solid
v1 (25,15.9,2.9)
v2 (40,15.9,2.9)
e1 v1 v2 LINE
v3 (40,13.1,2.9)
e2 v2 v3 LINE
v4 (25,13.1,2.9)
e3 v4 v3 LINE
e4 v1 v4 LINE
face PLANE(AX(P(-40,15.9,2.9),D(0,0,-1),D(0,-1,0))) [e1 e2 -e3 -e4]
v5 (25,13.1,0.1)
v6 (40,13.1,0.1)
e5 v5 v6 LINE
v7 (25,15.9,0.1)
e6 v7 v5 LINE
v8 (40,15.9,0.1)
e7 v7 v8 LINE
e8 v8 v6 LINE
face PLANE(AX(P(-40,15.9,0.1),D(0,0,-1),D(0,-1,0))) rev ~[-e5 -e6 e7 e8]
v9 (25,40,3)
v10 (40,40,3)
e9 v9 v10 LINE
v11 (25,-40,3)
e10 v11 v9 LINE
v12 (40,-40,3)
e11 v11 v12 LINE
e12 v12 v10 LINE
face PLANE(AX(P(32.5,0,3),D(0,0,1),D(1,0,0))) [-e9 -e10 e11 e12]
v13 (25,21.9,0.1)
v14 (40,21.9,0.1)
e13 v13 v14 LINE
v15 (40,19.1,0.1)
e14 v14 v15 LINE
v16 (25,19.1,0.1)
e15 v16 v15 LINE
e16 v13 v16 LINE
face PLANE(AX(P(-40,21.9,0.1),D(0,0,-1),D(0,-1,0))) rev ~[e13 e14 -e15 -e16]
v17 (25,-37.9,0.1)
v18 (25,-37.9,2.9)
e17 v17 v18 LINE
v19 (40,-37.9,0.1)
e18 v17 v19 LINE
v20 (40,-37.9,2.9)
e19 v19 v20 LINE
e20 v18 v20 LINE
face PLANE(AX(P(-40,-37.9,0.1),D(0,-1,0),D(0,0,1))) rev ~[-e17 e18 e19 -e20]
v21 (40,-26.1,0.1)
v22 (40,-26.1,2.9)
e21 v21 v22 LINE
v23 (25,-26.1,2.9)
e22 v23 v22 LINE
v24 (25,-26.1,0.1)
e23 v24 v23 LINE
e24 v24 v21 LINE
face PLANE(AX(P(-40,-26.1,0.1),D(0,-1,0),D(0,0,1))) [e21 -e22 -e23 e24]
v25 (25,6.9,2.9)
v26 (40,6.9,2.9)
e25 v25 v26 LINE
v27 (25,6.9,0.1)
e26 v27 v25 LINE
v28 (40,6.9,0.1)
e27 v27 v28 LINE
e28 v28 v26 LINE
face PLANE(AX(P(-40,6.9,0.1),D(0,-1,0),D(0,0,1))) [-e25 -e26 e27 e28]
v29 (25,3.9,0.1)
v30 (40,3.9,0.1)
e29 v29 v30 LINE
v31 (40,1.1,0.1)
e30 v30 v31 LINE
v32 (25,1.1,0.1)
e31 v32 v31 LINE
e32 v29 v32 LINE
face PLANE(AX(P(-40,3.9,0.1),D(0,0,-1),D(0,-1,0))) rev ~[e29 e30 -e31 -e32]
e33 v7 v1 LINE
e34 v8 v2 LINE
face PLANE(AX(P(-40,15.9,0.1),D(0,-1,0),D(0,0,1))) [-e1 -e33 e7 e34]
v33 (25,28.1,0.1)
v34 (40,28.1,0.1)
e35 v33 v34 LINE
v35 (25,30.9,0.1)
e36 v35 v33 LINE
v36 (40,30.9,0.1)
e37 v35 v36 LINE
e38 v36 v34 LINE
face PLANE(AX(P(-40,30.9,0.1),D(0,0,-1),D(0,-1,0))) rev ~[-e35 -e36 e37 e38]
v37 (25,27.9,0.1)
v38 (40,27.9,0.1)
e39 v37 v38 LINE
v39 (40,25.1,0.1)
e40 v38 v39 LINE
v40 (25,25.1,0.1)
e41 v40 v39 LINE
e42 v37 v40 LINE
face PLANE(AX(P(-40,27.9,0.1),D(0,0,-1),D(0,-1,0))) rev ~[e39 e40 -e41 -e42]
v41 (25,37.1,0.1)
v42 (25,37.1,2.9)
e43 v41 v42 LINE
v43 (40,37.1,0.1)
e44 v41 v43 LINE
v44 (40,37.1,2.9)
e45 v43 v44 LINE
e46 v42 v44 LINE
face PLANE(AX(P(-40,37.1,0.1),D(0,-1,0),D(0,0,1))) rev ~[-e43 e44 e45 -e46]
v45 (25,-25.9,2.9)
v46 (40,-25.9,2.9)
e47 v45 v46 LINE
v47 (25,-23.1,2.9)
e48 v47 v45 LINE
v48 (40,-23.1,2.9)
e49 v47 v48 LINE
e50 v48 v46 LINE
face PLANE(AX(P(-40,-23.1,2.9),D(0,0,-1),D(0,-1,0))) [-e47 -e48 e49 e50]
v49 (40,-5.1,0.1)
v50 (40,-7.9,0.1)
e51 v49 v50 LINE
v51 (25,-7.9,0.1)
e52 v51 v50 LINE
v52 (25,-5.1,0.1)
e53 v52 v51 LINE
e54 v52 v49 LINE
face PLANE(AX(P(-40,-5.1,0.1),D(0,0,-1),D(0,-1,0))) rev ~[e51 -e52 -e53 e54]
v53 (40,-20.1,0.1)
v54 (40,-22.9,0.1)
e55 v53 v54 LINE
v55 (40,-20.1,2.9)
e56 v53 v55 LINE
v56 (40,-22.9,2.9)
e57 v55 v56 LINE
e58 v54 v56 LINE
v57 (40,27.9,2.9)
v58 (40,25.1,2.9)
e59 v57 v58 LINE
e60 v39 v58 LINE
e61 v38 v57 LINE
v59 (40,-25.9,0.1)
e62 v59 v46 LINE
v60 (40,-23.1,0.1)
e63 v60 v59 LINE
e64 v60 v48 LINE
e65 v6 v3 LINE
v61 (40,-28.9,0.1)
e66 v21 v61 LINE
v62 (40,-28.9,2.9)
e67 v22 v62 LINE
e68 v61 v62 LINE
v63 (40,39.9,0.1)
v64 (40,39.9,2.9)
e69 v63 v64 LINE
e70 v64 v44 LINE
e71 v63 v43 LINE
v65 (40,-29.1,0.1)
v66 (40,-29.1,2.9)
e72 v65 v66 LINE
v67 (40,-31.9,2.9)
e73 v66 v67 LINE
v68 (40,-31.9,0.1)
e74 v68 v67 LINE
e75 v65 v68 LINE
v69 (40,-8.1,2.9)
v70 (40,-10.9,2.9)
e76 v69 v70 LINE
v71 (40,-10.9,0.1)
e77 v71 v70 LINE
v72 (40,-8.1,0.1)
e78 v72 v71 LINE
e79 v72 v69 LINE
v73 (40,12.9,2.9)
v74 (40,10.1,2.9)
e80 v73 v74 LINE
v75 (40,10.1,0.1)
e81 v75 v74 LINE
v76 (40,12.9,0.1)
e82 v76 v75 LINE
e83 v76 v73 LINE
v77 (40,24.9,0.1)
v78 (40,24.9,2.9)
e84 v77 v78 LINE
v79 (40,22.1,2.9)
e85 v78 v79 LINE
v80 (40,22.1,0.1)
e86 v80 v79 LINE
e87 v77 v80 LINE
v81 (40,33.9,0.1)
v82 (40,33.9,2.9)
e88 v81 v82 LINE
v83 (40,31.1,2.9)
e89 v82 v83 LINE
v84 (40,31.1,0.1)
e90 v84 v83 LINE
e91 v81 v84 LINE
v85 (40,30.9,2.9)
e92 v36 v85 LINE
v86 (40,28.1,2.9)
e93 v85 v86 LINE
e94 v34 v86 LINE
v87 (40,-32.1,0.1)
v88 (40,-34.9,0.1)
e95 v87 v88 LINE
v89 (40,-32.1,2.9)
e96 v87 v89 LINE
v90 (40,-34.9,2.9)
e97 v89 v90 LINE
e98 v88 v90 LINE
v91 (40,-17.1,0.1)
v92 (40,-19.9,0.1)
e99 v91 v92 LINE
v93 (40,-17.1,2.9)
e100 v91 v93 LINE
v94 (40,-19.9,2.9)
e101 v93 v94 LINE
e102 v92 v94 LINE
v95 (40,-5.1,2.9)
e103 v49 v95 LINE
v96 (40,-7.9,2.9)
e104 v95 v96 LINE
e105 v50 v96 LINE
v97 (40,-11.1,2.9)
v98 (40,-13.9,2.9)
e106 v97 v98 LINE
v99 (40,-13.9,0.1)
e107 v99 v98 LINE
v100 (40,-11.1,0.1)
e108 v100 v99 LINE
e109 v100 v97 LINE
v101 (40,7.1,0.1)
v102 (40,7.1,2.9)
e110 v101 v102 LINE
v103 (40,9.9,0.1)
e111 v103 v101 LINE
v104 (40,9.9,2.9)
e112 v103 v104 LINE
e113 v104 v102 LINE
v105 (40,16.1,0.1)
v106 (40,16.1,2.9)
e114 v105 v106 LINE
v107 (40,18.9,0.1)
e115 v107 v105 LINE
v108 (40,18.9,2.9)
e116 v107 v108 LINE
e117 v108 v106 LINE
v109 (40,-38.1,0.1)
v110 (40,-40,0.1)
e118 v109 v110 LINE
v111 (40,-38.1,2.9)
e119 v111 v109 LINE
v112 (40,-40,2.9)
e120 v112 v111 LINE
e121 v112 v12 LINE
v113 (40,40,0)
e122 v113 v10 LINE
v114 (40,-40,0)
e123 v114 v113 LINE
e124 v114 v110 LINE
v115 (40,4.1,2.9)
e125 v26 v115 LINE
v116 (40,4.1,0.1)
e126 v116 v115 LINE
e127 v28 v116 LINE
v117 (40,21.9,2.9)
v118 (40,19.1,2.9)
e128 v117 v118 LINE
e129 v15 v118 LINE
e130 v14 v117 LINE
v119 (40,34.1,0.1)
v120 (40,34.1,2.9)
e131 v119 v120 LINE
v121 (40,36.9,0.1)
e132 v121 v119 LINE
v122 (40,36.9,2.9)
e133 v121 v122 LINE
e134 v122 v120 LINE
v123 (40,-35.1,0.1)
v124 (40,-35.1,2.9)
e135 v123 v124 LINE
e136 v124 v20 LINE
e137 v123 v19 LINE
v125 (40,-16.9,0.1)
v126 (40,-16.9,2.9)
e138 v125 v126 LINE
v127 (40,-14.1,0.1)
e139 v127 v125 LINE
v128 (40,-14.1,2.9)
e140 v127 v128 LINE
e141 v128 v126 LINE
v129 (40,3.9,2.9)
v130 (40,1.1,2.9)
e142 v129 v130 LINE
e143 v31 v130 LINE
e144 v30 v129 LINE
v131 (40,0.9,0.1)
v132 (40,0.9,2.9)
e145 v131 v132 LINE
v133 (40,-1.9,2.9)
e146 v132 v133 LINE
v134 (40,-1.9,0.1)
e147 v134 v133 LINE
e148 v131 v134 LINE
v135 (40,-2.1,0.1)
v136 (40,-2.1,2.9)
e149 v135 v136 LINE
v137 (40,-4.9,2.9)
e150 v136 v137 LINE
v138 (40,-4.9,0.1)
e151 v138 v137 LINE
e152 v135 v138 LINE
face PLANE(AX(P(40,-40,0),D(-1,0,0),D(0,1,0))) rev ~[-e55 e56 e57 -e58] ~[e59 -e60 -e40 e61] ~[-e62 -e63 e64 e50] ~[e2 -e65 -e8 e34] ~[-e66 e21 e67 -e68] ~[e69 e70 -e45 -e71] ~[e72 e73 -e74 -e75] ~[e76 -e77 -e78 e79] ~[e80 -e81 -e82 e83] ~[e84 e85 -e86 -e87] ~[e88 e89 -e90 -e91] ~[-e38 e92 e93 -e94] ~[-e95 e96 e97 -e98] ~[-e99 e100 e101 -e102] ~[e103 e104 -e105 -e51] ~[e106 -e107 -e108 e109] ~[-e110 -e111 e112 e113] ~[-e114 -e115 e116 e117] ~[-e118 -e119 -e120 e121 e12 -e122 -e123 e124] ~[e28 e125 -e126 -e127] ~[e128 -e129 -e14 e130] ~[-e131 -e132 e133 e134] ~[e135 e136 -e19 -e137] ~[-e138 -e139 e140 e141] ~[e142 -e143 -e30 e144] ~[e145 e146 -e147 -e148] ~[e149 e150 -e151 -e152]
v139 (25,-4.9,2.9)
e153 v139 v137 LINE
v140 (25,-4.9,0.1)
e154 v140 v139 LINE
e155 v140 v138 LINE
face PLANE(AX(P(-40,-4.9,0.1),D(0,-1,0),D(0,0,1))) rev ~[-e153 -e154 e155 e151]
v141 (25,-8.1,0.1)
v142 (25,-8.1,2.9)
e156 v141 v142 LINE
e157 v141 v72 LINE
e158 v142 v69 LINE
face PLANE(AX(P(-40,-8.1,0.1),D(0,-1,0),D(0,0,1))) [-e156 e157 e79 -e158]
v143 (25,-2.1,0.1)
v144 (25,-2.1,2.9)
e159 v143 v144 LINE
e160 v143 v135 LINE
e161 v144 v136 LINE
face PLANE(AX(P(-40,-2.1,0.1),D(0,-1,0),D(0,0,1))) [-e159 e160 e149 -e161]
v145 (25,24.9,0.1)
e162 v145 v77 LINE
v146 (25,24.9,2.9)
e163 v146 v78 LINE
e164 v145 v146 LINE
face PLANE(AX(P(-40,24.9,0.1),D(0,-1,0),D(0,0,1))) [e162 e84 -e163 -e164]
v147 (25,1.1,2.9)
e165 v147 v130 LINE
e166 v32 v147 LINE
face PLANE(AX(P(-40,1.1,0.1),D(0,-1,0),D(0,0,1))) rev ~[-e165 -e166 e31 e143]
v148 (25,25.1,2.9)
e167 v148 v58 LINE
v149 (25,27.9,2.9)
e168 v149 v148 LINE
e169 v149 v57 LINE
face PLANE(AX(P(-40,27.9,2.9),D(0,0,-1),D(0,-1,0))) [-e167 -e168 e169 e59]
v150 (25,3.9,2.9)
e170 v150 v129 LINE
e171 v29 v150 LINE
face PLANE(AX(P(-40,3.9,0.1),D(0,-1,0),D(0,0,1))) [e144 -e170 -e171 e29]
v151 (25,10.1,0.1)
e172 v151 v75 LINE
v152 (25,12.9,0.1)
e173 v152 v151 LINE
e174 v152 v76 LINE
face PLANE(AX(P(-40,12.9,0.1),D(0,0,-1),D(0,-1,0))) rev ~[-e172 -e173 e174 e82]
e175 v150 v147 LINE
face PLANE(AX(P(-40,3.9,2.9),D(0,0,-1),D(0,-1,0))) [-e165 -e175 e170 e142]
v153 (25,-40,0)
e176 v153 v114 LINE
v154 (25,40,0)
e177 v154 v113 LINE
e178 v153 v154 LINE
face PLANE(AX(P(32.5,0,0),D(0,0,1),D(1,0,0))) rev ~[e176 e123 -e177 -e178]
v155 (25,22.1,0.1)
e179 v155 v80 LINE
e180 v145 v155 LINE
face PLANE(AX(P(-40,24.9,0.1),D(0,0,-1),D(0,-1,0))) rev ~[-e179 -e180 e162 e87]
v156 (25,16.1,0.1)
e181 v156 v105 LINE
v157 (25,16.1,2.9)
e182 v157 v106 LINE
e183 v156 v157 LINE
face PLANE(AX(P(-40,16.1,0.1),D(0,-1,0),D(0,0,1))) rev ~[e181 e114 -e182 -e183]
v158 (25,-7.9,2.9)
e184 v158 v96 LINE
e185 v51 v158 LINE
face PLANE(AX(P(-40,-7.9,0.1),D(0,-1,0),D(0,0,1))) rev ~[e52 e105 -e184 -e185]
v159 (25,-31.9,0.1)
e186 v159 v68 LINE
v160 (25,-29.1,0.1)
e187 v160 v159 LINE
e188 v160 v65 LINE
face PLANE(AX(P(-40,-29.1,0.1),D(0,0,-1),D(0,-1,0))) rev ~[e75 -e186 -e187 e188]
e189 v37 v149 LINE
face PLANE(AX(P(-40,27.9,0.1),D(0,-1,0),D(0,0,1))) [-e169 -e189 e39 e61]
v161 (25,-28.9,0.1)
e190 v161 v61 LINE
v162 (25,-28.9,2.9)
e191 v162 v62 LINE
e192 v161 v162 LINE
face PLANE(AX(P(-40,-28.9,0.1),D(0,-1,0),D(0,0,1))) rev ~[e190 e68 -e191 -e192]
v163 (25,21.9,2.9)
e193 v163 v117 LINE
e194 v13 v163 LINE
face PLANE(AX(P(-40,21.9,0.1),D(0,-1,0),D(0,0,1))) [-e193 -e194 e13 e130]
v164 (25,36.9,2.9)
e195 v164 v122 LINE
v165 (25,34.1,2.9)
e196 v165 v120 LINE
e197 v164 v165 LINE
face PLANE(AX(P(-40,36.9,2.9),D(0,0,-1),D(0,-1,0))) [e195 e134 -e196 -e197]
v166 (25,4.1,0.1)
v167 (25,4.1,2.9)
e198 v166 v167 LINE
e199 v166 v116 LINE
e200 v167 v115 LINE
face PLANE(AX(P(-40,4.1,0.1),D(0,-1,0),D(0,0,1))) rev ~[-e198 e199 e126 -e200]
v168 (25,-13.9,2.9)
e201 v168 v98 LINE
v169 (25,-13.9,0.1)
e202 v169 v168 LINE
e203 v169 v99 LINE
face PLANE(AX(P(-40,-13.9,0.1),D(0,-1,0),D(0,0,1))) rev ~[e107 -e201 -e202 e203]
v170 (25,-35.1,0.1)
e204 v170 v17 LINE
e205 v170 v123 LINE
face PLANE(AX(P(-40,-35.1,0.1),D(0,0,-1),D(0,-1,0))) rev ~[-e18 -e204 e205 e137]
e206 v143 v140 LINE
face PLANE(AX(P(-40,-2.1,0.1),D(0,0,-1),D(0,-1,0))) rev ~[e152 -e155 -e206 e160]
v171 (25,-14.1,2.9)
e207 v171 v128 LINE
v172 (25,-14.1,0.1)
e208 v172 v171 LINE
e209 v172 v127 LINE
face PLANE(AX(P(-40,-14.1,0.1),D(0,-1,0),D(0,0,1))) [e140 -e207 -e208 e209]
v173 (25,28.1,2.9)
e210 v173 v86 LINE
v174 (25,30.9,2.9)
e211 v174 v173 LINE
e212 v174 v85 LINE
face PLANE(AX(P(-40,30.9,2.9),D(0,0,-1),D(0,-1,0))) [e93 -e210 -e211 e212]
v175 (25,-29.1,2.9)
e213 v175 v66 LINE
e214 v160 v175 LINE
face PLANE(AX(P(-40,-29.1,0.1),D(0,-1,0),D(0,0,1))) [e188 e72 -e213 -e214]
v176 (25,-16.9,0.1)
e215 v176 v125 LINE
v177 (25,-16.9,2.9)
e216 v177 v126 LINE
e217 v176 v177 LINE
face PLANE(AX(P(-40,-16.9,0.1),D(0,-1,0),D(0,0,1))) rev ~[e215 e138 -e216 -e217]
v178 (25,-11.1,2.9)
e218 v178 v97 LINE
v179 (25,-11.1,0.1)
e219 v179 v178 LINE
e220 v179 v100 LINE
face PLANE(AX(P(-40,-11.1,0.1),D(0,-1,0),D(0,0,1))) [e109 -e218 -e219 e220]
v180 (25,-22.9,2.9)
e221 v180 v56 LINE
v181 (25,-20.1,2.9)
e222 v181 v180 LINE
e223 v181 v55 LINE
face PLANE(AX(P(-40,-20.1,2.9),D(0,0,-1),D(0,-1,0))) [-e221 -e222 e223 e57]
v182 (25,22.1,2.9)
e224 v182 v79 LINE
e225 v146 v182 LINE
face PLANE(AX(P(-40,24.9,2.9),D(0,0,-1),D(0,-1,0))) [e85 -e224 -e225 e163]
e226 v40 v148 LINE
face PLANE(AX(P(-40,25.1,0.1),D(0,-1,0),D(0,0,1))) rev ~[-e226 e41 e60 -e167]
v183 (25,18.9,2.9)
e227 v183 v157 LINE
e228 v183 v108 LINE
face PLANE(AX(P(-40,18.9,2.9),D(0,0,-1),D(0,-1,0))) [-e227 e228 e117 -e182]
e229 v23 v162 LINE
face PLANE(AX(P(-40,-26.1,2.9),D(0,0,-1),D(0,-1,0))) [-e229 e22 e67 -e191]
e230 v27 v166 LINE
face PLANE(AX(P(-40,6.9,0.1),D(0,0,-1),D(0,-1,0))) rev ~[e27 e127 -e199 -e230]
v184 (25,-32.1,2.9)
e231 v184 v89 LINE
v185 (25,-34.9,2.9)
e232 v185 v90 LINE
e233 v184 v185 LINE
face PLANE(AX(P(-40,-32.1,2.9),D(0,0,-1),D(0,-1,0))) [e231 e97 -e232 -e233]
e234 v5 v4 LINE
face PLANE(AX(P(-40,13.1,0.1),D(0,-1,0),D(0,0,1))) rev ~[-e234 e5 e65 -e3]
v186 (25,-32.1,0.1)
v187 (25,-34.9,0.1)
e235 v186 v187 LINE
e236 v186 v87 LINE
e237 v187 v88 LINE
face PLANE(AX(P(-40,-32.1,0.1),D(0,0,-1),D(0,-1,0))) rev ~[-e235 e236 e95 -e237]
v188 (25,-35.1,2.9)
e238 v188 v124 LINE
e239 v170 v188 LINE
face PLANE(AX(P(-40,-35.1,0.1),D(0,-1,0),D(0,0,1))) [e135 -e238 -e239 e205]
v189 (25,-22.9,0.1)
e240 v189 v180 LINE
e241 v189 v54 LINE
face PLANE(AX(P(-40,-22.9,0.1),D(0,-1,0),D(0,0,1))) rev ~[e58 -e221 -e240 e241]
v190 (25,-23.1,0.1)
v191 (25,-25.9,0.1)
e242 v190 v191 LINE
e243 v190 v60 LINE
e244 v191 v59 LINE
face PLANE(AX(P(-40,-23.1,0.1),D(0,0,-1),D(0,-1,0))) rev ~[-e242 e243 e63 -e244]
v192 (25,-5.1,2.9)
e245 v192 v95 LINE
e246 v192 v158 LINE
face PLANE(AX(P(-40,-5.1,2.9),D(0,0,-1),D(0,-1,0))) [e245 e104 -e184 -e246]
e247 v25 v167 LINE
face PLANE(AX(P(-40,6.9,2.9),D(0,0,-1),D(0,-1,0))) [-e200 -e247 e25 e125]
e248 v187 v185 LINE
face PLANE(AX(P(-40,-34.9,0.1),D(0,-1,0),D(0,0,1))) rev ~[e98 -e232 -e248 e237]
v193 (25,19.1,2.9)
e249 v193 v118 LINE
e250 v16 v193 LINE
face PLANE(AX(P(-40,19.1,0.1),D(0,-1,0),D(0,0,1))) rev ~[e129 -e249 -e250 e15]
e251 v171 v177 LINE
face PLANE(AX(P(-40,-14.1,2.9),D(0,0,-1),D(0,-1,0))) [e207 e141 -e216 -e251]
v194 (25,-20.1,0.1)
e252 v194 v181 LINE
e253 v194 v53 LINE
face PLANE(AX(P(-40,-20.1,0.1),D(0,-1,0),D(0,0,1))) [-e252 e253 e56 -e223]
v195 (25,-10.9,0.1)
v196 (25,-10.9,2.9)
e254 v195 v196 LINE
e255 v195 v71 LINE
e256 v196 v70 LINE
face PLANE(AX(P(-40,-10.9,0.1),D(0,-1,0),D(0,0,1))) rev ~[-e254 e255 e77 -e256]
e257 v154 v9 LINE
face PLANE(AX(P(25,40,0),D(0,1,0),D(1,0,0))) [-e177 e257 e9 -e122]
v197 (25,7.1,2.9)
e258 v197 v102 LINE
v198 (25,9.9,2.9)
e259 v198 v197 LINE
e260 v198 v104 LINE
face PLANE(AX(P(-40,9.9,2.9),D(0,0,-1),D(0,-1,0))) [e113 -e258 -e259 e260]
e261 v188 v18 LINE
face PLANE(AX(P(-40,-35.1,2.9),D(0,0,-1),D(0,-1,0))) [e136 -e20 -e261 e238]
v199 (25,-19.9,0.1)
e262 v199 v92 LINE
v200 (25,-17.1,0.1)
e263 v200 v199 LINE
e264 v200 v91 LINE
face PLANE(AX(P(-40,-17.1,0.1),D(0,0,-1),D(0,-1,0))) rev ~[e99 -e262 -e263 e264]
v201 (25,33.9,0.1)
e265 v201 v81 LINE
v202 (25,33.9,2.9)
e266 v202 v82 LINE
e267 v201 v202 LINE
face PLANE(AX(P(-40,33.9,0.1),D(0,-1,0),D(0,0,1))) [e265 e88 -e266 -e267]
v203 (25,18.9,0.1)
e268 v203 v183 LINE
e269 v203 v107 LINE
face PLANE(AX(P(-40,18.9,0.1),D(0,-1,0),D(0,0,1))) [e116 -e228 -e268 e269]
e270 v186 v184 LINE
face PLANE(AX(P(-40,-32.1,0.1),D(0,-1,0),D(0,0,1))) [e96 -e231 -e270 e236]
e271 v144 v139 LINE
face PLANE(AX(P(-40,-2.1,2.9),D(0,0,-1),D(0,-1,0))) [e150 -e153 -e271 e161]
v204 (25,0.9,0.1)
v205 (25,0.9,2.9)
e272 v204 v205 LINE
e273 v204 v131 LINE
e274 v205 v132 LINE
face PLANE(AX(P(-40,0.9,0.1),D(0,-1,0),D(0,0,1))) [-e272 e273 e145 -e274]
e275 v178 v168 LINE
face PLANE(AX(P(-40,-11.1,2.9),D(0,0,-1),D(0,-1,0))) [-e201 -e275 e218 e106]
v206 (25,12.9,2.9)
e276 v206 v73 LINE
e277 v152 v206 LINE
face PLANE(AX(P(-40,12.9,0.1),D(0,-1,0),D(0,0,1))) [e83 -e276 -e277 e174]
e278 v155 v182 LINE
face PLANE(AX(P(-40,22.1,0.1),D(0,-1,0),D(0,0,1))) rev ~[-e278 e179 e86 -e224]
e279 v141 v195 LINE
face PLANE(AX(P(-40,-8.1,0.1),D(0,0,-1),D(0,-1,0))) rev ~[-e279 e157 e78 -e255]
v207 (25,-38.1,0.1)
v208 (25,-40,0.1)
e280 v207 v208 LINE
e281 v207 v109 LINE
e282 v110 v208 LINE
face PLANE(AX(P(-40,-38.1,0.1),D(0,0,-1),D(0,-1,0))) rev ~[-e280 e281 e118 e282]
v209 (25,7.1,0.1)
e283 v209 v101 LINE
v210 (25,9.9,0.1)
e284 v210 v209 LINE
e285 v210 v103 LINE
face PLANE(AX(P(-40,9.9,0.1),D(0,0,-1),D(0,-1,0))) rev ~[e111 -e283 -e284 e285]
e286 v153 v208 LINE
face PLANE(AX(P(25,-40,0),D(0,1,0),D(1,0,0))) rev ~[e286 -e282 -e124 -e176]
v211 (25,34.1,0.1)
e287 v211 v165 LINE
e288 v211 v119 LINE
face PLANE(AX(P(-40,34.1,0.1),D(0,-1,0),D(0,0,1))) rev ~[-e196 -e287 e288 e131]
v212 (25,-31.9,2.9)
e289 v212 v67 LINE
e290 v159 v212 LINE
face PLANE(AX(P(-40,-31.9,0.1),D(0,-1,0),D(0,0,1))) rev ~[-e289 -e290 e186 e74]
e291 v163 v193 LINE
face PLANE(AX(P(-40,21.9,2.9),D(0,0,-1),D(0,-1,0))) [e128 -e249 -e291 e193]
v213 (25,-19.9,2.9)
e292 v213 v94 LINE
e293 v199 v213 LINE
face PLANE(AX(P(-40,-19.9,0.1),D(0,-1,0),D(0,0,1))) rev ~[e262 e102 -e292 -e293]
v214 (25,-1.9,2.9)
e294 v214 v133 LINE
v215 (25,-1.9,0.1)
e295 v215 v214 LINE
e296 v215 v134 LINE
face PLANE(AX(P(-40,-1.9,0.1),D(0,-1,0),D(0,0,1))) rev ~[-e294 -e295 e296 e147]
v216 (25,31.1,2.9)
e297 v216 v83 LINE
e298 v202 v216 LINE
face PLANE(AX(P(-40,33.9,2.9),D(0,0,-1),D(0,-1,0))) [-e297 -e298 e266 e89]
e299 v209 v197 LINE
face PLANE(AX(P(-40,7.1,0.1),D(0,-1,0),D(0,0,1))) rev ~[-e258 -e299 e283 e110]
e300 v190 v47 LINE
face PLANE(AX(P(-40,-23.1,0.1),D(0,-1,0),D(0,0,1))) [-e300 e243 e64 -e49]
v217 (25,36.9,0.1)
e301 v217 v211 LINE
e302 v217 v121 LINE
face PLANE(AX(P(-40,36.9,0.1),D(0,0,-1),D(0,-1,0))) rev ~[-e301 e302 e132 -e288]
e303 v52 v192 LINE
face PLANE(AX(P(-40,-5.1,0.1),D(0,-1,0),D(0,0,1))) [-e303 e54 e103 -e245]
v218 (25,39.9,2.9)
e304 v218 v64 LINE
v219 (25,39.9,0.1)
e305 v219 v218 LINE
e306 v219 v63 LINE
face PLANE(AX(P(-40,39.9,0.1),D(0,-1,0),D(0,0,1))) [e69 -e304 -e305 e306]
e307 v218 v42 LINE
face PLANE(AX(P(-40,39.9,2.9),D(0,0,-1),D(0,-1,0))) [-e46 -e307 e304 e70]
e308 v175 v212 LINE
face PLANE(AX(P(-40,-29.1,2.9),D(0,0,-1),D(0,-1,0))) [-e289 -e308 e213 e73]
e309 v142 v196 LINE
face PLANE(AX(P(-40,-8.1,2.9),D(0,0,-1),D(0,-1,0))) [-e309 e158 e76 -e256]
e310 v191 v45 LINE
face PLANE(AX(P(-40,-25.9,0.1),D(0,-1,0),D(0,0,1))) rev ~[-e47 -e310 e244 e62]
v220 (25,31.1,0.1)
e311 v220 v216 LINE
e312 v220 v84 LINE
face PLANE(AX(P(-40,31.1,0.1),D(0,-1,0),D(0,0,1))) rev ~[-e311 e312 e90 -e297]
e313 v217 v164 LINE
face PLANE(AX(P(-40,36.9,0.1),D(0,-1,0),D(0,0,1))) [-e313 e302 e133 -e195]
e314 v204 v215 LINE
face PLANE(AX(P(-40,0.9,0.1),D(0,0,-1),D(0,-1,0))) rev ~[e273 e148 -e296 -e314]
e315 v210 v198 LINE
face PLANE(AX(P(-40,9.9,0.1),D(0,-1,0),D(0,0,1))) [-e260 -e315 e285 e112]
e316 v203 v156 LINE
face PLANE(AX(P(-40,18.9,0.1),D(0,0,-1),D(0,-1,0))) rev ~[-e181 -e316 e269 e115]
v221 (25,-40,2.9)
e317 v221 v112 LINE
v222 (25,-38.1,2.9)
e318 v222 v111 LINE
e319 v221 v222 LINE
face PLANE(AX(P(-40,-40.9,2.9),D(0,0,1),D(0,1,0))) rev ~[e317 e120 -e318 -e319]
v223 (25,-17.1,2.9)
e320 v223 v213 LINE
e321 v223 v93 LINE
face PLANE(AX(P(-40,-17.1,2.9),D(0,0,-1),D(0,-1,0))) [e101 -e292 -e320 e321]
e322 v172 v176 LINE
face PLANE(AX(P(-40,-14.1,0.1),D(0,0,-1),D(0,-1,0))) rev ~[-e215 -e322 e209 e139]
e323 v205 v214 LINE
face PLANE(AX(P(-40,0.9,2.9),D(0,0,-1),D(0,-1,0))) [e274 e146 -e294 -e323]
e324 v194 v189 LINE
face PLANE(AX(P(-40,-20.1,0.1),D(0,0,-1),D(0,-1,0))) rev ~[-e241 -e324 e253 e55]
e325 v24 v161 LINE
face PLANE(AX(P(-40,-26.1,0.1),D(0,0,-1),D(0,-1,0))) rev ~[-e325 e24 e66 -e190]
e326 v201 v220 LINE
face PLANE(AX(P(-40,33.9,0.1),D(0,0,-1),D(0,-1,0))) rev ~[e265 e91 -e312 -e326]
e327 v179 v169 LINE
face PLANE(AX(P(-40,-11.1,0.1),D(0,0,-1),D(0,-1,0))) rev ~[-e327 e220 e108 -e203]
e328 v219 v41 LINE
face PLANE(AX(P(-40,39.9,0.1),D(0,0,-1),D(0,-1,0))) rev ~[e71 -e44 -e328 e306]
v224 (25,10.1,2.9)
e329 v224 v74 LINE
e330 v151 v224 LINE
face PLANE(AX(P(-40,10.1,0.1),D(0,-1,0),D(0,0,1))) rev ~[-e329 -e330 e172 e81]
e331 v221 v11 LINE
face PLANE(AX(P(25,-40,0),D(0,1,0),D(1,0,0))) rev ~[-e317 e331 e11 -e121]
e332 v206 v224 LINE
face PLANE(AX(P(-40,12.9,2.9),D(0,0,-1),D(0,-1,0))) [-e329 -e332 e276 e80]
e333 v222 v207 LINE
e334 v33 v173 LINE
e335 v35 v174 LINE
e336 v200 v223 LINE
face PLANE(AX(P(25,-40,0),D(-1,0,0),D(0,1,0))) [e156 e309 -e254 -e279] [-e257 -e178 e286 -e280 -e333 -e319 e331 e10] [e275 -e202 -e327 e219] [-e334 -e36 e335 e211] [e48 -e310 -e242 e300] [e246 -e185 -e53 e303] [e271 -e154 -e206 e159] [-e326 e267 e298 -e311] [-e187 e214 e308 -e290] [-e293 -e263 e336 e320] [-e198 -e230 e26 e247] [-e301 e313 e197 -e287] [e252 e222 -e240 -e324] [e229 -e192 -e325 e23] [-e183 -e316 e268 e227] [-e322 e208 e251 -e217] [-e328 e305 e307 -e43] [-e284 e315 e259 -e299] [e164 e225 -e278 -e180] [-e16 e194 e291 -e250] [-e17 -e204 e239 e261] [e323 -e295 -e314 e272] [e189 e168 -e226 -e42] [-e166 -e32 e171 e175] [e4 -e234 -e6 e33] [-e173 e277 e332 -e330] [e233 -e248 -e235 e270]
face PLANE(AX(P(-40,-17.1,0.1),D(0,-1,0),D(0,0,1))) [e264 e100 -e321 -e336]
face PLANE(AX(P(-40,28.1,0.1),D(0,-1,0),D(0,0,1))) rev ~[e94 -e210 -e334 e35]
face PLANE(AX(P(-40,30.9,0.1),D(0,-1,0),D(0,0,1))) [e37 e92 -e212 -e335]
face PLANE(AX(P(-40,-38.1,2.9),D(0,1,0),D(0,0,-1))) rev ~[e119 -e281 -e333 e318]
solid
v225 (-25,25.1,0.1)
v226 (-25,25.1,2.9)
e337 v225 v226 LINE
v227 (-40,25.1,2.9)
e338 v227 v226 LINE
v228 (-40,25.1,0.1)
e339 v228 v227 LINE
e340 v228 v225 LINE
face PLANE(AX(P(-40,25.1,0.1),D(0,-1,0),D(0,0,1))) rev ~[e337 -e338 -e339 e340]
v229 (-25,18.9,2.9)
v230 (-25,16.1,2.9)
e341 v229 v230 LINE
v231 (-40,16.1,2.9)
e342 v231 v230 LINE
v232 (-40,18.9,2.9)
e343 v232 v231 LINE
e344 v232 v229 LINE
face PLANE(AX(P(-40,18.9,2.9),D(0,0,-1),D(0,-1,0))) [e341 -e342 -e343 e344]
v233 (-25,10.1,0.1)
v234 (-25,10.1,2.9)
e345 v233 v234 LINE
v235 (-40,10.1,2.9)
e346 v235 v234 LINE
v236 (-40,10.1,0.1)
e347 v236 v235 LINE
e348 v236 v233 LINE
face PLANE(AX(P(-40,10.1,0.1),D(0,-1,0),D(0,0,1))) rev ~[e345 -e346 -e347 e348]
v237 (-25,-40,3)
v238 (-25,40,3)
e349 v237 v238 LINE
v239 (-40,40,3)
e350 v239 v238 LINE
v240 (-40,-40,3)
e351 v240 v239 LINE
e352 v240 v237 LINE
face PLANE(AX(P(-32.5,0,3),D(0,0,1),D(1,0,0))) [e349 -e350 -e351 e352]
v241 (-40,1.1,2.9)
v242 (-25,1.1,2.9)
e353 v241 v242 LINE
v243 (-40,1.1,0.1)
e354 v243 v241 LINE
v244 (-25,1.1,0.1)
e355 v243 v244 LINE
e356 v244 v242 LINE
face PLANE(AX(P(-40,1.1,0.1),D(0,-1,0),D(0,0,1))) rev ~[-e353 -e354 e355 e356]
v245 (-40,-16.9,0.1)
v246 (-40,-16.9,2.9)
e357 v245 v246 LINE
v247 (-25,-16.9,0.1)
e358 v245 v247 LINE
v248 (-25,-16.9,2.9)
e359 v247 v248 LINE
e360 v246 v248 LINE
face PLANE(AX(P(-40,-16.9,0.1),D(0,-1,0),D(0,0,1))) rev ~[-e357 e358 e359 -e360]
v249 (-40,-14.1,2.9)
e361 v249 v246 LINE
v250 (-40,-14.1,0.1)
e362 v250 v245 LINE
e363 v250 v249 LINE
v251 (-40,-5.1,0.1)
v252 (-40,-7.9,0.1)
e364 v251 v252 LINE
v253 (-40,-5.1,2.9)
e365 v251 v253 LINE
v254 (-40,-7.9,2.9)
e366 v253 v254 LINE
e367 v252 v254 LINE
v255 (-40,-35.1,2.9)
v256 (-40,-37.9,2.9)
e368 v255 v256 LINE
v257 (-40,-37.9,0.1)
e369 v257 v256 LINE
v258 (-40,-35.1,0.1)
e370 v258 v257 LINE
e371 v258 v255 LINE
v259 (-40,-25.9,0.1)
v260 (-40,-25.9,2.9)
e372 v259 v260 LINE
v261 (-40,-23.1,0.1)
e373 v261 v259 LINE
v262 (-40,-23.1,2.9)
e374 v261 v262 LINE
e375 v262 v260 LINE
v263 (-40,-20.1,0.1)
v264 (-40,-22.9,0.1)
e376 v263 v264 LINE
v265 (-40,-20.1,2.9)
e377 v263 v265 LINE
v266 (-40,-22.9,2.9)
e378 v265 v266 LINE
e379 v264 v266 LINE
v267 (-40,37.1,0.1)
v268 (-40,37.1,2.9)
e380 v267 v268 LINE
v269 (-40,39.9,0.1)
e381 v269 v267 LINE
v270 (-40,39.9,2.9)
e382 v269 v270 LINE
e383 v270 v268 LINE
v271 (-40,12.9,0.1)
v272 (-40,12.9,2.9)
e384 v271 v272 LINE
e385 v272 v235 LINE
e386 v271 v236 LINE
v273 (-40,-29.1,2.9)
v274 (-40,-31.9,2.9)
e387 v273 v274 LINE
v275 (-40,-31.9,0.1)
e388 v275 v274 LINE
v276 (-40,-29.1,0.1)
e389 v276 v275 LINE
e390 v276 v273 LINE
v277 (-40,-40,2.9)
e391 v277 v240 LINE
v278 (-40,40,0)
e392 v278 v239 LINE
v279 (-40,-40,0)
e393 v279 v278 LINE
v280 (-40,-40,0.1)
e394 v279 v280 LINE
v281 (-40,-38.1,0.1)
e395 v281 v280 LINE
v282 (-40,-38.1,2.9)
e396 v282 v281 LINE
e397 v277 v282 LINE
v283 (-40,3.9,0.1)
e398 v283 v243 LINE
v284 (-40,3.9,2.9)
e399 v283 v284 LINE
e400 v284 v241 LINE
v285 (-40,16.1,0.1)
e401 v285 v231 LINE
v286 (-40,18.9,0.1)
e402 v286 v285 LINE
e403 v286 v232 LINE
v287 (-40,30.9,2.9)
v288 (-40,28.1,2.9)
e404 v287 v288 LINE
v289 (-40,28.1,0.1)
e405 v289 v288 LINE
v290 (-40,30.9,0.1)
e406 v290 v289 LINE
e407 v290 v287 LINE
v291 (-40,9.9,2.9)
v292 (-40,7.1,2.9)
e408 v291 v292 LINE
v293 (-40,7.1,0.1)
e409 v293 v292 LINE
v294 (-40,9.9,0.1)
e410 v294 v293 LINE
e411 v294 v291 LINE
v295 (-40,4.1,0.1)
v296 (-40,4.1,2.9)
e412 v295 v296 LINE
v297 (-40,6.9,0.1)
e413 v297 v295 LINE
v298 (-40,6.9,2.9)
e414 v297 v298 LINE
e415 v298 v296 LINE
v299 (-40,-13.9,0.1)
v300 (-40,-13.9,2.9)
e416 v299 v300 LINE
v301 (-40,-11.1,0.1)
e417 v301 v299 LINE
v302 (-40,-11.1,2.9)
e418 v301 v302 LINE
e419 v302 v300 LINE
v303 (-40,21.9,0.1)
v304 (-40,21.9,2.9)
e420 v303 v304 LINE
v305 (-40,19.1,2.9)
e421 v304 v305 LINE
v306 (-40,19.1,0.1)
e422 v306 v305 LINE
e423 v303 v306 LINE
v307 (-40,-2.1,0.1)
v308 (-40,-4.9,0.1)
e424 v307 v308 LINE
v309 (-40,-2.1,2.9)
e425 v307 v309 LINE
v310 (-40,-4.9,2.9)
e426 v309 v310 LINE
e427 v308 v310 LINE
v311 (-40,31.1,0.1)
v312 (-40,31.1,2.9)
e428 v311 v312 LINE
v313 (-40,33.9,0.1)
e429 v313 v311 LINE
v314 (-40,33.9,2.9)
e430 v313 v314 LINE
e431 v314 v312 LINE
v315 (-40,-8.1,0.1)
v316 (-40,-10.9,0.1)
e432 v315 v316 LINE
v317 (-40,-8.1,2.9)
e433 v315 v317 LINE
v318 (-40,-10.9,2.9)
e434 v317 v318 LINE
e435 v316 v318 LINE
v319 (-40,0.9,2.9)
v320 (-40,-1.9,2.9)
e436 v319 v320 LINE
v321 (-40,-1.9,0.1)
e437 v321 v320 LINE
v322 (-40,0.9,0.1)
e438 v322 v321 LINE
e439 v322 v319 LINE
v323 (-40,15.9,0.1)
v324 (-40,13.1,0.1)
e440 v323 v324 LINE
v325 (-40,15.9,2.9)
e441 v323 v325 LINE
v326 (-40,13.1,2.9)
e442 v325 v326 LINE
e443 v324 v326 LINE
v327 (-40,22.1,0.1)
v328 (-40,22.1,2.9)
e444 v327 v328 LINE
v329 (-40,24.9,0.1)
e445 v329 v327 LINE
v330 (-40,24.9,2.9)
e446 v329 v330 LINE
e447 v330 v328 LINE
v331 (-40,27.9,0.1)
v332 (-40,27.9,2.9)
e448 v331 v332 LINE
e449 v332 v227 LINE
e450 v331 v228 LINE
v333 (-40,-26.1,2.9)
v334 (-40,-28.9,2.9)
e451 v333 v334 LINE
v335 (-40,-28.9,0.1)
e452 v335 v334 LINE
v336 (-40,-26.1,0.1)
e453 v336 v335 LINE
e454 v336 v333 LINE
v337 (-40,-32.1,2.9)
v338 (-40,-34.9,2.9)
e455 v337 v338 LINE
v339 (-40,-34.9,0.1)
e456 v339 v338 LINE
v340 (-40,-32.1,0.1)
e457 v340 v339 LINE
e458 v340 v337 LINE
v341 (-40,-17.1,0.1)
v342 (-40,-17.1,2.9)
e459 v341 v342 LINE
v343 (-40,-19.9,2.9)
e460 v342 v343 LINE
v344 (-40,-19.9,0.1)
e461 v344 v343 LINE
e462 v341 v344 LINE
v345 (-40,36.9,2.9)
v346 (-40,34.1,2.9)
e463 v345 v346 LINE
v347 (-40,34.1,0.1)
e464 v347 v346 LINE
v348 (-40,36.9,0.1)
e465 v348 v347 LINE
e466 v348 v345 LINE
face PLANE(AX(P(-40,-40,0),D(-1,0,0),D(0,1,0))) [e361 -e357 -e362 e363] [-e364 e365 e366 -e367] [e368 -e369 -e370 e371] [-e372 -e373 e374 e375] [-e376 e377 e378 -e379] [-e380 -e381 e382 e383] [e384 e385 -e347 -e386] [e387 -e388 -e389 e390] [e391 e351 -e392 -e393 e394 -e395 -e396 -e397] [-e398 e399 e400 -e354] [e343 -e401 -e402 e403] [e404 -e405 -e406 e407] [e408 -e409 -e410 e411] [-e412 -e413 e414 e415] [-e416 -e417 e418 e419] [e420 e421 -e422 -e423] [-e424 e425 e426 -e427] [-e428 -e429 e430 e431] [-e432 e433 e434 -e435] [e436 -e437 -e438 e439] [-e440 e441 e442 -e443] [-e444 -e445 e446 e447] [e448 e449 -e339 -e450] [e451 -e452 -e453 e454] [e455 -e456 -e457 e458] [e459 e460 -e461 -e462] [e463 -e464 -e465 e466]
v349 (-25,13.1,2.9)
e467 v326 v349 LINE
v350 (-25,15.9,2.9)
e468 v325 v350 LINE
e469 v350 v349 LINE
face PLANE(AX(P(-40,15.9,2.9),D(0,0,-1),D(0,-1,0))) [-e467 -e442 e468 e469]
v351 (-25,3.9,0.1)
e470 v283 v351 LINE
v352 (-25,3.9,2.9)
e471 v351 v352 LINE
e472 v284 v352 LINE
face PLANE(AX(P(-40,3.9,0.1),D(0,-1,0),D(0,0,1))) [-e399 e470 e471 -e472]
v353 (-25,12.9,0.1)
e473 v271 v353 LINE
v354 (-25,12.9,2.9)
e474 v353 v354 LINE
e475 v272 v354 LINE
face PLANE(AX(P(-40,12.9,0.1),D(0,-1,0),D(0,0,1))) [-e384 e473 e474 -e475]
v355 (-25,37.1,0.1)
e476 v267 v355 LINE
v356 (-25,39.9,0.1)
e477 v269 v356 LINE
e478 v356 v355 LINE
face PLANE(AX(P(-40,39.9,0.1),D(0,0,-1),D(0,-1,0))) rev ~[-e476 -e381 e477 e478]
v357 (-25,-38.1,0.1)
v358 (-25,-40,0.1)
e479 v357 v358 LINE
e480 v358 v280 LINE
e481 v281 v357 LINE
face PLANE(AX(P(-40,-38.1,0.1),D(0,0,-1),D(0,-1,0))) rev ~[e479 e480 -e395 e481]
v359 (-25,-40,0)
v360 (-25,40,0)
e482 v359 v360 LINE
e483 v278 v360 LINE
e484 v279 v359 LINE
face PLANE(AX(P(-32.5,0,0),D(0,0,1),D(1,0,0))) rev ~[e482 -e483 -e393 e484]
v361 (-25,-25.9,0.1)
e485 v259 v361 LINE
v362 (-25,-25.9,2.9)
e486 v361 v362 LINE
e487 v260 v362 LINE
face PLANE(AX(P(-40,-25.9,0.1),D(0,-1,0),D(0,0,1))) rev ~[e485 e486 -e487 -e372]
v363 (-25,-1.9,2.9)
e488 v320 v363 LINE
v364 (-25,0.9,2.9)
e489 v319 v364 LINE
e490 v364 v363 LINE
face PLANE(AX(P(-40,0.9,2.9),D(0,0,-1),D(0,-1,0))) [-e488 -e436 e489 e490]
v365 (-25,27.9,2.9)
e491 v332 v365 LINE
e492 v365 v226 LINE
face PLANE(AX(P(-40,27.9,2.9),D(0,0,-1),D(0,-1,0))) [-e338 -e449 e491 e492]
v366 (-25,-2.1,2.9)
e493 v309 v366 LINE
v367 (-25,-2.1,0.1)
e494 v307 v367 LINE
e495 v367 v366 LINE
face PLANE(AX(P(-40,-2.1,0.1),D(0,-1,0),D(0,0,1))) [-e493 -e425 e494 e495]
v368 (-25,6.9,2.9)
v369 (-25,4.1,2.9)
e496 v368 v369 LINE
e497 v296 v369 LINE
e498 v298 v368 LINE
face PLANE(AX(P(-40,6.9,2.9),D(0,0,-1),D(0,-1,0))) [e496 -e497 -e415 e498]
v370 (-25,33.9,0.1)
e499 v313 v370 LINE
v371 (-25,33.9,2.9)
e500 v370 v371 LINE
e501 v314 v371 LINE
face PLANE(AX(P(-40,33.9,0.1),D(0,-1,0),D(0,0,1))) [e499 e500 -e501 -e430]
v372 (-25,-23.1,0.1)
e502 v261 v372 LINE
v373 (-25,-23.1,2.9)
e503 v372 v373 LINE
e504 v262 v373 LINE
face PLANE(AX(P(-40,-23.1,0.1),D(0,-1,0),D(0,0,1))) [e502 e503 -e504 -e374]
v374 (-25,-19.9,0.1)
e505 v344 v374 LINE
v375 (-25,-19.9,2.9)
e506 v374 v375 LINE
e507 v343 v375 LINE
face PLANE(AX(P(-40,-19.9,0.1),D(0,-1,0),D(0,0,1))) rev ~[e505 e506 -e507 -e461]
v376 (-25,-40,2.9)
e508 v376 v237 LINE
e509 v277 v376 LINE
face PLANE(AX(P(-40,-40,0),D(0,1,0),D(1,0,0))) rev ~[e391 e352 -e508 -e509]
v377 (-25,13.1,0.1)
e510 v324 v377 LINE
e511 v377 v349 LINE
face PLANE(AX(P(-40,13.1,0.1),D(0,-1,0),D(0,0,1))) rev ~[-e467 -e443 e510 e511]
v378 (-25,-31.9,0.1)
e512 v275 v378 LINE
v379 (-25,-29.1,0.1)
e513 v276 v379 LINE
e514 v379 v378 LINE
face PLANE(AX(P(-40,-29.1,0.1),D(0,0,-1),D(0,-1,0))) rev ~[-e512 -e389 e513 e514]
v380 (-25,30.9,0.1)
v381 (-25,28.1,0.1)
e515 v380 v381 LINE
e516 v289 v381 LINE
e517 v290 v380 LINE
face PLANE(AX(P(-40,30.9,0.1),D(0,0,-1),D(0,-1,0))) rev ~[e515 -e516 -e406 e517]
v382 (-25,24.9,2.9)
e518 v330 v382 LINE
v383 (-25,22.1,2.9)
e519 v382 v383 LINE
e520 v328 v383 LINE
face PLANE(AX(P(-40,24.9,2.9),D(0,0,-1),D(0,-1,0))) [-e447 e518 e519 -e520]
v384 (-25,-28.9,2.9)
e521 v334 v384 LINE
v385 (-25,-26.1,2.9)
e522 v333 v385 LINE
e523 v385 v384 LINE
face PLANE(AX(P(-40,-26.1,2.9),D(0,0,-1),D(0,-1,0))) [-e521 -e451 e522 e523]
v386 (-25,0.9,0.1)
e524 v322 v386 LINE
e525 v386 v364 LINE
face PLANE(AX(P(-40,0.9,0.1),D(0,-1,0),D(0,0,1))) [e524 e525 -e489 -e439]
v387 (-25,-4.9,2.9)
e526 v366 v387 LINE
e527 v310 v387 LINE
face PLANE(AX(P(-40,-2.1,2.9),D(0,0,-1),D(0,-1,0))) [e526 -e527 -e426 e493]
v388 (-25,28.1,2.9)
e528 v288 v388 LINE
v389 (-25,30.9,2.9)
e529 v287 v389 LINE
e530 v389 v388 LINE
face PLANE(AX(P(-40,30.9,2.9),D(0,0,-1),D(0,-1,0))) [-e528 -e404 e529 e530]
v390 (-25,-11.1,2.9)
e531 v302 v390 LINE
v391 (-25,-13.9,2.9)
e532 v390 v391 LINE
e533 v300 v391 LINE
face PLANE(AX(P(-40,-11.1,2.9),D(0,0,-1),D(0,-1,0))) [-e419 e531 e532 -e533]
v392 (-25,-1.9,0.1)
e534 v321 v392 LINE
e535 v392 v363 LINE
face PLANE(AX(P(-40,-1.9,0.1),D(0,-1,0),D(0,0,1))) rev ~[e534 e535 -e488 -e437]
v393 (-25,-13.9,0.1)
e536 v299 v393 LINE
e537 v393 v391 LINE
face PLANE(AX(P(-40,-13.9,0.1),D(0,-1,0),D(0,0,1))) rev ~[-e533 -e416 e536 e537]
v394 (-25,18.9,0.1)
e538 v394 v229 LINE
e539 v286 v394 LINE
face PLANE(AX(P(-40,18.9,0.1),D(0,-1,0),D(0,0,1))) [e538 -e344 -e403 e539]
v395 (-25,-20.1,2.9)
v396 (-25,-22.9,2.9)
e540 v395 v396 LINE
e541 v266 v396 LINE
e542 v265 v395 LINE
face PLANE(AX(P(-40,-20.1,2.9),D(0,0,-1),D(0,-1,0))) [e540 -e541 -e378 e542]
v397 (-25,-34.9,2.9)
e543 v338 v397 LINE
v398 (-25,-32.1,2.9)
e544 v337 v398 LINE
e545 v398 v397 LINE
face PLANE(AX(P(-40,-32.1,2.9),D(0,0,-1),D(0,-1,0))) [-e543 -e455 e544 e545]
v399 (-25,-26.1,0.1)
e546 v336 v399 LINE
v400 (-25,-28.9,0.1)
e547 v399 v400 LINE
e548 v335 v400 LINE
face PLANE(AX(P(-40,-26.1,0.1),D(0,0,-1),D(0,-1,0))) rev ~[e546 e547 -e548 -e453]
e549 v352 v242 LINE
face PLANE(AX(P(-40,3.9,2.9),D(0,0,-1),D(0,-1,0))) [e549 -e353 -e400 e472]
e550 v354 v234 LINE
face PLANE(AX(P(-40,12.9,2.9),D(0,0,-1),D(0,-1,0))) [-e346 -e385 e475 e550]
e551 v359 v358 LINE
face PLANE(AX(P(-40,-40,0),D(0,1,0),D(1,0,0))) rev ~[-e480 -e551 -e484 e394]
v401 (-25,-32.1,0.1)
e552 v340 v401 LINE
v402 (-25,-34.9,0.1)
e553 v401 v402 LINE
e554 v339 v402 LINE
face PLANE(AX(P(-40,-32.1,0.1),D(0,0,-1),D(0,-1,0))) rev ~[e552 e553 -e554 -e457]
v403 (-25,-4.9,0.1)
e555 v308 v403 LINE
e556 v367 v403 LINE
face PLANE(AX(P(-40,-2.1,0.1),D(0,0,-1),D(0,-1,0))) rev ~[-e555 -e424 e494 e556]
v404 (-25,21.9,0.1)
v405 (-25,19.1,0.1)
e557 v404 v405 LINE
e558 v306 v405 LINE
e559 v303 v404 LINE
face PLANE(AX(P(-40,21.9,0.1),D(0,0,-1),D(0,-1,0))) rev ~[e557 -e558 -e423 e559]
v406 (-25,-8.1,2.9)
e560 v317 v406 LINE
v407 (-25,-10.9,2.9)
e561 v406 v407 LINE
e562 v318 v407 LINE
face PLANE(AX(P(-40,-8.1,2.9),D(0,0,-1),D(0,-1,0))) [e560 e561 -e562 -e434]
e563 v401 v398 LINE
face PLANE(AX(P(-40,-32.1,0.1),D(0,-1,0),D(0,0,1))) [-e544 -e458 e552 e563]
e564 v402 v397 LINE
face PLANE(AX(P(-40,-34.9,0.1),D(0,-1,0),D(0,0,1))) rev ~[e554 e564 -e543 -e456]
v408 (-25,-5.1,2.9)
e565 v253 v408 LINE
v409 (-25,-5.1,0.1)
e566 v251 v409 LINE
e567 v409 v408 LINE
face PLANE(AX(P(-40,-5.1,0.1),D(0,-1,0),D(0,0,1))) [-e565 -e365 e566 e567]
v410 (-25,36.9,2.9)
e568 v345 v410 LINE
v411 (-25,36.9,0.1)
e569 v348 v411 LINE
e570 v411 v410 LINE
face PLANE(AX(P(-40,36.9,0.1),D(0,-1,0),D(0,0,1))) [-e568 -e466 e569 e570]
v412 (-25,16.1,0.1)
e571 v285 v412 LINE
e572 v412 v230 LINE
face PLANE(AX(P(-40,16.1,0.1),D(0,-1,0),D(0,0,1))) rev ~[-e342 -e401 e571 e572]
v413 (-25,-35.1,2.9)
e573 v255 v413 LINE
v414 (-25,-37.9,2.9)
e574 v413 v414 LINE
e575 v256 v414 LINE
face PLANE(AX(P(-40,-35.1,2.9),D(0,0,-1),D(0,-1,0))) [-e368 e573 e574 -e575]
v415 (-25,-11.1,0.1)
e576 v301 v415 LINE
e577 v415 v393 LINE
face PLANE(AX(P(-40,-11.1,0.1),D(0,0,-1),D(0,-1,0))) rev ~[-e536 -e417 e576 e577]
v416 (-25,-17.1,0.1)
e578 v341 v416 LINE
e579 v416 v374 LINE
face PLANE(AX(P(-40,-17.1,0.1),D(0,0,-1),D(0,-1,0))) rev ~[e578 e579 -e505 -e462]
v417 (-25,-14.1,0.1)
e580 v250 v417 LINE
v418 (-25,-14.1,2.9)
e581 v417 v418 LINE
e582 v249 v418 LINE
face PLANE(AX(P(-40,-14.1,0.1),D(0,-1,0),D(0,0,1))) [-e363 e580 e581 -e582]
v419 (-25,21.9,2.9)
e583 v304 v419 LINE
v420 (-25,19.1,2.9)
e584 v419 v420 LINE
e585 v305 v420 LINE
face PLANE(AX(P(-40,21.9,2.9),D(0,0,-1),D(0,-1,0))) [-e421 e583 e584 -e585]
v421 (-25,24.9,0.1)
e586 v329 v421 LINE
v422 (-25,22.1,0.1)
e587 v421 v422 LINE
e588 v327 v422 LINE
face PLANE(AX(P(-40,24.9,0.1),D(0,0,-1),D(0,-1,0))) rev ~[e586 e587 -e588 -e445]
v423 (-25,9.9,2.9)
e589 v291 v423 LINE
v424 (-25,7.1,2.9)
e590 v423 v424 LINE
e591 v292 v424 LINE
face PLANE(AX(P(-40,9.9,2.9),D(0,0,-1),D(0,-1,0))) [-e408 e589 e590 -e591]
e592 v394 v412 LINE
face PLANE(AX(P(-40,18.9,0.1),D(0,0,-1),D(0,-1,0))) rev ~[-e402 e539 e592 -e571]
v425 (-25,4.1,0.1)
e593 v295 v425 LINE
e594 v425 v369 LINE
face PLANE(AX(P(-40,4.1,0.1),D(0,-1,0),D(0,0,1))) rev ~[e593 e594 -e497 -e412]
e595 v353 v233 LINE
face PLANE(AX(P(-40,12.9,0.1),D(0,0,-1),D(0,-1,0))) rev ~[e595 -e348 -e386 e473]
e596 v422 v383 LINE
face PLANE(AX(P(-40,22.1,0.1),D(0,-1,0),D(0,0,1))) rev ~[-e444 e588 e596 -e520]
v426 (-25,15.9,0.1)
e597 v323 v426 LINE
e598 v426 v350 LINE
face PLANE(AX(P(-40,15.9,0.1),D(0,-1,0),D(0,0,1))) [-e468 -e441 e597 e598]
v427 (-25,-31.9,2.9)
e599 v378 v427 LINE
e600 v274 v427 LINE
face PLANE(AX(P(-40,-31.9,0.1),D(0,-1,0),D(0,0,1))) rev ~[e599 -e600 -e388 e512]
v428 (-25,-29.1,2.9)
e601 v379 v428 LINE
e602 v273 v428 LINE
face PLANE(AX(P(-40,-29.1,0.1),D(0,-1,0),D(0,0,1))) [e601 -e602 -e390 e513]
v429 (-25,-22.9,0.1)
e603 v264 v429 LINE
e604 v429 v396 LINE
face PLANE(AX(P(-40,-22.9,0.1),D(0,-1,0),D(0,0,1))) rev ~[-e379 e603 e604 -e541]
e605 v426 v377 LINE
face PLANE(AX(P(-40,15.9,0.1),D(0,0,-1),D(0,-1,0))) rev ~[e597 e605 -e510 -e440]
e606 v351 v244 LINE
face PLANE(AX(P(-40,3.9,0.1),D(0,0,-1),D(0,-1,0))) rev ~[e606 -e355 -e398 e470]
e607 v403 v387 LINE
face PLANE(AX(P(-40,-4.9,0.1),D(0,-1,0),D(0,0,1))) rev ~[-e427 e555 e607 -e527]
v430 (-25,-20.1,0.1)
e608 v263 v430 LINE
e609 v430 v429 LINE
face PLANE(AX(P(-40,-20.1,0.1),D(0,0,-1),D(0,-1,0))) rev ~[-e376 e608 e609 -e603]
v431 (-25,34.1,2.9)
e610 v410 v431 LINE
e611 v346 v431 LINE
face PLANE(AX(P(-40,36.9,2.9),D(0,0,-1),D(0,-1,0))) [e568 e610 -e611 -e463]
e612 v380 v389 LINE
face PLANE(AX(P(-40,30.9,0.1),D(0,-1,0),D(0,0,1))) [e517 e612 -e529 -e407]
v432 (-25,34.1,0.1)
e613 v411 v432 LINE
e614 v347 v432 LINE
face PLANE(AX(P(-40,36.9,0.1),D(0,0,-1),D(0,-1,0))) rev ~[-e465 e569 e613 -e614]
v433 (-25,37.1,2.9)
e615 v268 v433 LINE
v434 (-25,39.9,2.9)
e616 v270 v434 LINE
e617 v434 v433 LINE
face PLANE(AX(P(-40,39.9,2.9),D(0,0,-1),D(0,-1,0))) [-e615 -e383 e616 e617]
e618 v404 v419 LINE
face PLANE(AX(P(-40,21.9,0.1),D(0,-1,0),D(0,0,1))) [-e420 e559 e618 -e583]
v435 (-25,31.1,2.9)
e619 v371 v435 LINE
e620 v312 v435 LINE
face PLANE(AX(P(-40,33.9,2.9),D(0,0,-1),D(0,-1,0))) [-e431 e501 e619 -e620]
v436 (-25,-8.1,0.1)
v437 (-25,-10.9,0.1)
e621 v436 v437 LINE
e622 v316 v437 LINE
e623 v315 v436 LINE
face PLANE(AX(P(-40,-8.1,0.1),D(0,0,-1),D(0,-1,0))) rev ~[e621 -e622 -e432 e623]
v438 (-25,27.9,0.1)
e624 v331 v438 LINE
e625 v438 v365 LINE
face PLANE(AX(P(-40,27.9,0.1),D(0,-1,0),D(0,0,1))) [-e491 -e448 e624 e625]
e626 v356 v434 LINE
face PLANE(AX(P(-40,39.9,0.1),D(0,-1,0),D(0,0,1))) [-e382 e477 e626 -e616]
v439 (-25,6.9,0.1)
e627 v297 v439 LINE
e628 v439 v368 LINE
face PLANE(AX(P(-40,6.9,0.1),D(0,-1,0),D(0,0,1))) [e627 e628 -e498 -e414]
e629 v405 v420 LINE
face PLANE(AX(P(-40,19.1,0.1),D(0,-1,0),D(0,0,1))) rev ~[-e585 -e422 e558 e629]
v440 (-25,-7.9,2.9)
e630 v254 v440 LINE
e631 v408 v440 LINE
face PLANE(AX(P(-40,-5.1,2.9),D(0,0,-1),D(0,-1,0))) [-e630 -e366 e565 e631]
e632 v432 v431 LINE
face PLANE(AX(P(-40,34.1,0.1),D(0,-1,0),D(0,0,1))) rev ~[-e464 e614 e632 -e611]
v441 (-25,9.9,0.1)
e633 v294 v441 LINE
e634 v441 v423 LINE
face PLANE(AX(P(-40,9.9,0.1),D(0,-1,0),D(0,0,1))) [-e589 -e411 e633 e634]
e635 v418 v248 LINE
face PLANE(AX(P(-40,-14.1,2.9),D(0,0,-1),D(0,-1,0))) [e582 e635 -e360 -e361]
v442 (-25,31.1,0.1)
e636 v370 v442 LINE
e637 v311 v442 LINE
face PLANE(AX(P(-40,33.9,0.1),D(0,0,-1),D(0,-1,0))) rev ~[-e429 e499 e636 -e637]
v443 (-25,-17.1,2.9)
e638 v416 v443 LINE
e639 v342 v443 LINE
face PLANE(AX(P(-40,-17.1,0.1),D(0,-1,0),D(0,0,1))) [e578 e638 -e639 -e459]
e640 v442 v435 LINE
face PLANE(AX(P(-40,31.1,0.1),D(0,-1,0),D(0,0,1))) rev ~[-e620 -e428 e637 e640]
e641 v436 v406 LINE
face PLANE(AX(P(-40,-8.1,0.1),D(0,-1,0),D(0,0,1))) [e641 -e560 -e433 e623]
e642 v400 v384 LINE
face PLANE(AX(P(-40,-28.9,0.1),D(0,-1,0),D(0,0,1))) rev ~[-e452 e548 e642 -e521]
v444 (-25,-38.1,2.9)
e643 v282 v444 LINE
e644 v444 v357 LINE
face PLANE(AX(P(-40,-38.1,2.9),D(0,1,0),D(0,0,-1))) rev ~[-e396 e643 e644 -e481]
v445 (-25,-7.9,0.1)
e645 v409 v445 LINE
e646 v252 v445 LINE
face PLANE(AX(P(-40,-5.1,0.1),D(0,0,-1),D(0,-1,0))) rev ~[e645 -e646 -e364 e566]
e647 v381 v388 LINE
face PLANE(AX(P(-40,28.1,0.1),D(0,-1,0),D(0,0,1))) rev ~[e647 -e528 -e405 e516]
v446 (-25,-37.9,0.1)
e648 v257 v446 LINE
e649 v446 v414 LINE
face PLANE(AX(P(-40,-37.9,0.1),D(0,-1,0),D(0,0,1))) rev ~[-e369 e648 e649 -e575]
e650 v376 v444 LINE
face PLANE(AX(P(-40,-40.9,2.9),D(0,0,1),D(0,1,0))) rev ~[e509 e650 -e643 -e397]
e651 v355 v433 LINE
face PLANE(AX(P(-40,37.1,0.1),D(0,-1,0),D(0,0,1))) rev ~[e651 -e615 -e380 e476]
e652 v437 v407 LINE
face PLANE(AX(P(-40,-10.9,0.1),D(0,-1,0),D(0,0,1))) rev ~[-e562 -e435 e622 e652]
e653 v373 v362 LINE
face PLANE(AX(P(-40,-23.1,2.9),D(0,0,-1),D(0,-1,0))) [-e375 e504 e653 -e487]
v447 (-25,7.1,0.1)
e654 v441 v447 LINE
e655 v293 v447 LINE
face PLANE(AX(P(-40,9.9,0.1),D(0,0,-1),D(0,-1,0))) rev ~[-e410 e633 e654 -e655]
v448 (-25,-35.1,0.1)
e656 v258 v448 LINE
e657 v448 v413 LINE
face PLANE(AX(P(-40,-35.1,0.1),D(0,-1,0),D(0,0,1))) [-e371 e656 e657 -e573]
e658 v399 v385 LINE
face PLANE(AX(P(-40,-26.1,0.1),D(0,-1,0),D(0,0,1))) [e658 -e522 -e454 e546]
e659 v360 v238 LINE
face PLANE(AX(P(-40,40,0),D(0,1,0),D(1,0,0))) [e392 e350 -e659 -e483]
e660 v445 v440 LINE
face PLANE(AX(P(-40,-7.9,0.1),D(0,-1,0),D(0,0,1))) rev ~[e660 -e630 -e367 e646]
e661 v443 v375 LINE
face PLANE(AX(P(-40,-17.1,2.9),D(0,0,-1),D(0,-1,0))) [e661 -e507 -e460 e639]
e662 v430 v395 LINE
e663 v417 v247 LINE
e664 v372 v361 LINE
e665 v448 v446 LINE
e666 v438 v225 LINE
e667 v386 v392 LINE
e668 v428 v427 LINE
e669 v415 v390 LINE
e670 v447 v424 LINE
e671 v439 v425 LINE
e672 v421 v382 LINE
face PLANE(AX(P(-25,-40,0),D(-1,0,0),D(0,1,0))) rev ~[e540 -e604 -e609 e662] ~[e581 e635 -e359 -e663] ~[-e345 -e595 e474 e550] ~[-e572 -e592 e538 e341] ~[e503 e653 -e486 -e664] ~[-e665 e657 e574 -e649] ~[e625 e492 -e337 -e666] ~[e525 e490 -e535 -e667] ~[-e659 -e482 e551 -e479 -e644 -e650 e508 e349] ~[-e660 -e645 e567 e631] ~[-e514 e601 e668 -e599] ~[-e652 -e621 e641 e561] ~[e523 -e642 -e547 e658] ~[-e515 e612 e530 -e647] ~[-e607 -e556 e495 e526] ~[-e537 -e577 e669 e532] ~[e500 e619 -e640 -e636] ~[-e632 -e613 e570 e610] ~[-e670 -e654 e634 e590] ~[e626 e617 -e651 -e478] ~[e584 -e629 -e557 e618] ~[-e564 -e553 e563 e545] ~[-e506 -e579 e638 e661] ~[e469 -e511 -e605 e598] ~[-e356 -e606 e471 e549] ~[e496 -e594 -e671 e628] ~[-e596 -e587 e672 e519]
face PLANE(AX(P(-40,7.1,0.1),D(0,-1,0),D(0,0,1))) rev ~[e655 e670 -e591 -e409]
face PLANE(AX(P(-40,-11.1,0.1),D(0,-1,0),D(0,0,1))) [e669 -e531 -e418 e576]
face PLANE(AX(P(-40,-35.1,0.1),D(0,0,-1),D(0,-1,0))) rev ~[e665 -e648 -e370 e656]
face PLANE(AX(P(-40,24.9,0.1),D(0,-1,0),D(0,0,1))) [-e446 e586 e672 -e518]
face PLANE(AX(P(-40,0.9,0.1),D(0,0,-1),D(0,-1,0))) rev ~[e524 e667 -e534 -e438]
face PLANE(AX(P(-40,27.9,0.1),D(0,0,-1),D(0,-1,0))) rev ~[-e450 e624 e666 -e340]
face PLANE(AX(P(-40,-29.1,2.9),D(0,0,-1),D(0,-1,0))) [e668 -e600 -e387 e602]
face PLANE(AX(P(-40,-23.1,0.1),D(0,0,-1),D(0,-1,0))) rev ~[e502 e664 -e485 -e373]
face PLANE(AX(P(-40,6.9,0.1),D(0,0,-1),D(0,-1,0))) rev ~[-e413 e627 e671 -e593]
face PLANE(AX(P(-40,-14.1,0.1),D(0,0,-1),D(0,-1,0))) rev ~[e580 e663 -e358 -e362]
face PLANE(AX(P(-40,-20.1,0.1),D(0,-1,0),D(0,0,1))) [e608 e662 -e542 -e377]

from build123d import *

# Parameters (mm, degrees)
F0_W     = 15
F0_H     = 80
F1_DEPTH = 3
F2_W     = 2.8
F2_H     = 2.8
F2_W_2   = 0.9
F3_DEPTH = 80


with BuildPart() as f1:
    # F0 (on Top) → F1 (new body)
    with BuildSketch(Plane.XY):
        with Locations((32.5, 0)):
            Rectangle(F0_W, F0_H)
        with Locations((-32.5, 0)):
            Rectangle(F0_W, F0_H)
    extrude(amount=F1_DEPTH)

    # F2 (on face) → F3 (cut)
    with BuildSketch(Plane(origin=(-40, 0, 0), x_dir=(0, -1, 0), z_dir=(-1, 0, 0))):
        with Locations((-35.5, 1.5)):
            Rectangle(F2_W, F2_H)
        with Locations((-32.5, 1.5)):
            Rectangle(F2_W, F2_H)
        with Locations((-29.5, 1.5)):
            Rectangle(F2_W, F2_H)
        with Locations((-26.5, 1.5)):
            Rectangle(F2_W, F2_H)
        with Locations((-23.5, 1.5)):
            Rectangle(F2_W, F2_H)
        with Locations((-20.5, 1.5)):
            Rectangle(F2_W, F2_H)
        with Locations((-17.5, 1.5)):
            Rectangle(F2_W, F2_H)
        with Locations((-14.5, 1.5)):
            Rectangle(F2_W, F2_H)
        with Locations((-11.5, 1.5)):
            Rectangle(F2_W, F2_H)
        with Locations((-8.5, 1.5)):
            Rectangle(F2_W, F2_H)
        with Locations((-5.5, 1.5)):
            Rectangle(F2_W, F2_H)
        with Locations((-2.5, 1.5)):
            Rectangle(F2_W, F2_H)
        with Locations((0.5, 1.5)):
            Rectangle(F2_W, F2_H)
        with Locations((3.5, 1.5)):
            Rectangle(F2_W, F2_H)
        with Locations((6.5, 1.5)):
            Rectangle(F2_W, F2_H)
        with Locations((12.5, 1.5)):
            Rectangle(F2_W, F2_H)
        with Locations((15.5, 1.5)):
            Rectangle(F2_W, F2_H)
        with Locations((18.5, 1.5)):
            Rectangle(F2_W, F2_H)
        with Locations((21.5, 1.5)):
            Rectangle(F2_W, F2_H)
        with Locations((24.5, 1.5)):
            Rectangle(F2_W, F2_H)
        with Locations((27.5, 1.5)):
            Rectangle(F2_W, F2_H)
        with Locations((30.5, 1.5)):
            Rectangle(F2_W, F2_H)
        with Locations((33.5, 1.5)):
            Rectangle(F2_W, F2_H)
        with Locations((36.5, 1.5)):
            Rectangle(F2_W, F2_H)
        with Locations((40.45, 1.5)):
            Rectangle(F2_W_2, F2_H)
        Polygon((39.9, 2.9), (38.1, 2.9), (38.1, 0.1), (39.9, 0.1), (40, 0.1), (40, 2.9), align=None)
        with Locations((-38.5, 1.5)):
            Rectangle(F2_W, F2_H)
        with Locations((9.5, 1.5)):
            Rectangle(F2_W, F2_H)
    extrude(amount=-F3_DEPTH, mode=Mode.SUBTRACT)


solid = f1.part
